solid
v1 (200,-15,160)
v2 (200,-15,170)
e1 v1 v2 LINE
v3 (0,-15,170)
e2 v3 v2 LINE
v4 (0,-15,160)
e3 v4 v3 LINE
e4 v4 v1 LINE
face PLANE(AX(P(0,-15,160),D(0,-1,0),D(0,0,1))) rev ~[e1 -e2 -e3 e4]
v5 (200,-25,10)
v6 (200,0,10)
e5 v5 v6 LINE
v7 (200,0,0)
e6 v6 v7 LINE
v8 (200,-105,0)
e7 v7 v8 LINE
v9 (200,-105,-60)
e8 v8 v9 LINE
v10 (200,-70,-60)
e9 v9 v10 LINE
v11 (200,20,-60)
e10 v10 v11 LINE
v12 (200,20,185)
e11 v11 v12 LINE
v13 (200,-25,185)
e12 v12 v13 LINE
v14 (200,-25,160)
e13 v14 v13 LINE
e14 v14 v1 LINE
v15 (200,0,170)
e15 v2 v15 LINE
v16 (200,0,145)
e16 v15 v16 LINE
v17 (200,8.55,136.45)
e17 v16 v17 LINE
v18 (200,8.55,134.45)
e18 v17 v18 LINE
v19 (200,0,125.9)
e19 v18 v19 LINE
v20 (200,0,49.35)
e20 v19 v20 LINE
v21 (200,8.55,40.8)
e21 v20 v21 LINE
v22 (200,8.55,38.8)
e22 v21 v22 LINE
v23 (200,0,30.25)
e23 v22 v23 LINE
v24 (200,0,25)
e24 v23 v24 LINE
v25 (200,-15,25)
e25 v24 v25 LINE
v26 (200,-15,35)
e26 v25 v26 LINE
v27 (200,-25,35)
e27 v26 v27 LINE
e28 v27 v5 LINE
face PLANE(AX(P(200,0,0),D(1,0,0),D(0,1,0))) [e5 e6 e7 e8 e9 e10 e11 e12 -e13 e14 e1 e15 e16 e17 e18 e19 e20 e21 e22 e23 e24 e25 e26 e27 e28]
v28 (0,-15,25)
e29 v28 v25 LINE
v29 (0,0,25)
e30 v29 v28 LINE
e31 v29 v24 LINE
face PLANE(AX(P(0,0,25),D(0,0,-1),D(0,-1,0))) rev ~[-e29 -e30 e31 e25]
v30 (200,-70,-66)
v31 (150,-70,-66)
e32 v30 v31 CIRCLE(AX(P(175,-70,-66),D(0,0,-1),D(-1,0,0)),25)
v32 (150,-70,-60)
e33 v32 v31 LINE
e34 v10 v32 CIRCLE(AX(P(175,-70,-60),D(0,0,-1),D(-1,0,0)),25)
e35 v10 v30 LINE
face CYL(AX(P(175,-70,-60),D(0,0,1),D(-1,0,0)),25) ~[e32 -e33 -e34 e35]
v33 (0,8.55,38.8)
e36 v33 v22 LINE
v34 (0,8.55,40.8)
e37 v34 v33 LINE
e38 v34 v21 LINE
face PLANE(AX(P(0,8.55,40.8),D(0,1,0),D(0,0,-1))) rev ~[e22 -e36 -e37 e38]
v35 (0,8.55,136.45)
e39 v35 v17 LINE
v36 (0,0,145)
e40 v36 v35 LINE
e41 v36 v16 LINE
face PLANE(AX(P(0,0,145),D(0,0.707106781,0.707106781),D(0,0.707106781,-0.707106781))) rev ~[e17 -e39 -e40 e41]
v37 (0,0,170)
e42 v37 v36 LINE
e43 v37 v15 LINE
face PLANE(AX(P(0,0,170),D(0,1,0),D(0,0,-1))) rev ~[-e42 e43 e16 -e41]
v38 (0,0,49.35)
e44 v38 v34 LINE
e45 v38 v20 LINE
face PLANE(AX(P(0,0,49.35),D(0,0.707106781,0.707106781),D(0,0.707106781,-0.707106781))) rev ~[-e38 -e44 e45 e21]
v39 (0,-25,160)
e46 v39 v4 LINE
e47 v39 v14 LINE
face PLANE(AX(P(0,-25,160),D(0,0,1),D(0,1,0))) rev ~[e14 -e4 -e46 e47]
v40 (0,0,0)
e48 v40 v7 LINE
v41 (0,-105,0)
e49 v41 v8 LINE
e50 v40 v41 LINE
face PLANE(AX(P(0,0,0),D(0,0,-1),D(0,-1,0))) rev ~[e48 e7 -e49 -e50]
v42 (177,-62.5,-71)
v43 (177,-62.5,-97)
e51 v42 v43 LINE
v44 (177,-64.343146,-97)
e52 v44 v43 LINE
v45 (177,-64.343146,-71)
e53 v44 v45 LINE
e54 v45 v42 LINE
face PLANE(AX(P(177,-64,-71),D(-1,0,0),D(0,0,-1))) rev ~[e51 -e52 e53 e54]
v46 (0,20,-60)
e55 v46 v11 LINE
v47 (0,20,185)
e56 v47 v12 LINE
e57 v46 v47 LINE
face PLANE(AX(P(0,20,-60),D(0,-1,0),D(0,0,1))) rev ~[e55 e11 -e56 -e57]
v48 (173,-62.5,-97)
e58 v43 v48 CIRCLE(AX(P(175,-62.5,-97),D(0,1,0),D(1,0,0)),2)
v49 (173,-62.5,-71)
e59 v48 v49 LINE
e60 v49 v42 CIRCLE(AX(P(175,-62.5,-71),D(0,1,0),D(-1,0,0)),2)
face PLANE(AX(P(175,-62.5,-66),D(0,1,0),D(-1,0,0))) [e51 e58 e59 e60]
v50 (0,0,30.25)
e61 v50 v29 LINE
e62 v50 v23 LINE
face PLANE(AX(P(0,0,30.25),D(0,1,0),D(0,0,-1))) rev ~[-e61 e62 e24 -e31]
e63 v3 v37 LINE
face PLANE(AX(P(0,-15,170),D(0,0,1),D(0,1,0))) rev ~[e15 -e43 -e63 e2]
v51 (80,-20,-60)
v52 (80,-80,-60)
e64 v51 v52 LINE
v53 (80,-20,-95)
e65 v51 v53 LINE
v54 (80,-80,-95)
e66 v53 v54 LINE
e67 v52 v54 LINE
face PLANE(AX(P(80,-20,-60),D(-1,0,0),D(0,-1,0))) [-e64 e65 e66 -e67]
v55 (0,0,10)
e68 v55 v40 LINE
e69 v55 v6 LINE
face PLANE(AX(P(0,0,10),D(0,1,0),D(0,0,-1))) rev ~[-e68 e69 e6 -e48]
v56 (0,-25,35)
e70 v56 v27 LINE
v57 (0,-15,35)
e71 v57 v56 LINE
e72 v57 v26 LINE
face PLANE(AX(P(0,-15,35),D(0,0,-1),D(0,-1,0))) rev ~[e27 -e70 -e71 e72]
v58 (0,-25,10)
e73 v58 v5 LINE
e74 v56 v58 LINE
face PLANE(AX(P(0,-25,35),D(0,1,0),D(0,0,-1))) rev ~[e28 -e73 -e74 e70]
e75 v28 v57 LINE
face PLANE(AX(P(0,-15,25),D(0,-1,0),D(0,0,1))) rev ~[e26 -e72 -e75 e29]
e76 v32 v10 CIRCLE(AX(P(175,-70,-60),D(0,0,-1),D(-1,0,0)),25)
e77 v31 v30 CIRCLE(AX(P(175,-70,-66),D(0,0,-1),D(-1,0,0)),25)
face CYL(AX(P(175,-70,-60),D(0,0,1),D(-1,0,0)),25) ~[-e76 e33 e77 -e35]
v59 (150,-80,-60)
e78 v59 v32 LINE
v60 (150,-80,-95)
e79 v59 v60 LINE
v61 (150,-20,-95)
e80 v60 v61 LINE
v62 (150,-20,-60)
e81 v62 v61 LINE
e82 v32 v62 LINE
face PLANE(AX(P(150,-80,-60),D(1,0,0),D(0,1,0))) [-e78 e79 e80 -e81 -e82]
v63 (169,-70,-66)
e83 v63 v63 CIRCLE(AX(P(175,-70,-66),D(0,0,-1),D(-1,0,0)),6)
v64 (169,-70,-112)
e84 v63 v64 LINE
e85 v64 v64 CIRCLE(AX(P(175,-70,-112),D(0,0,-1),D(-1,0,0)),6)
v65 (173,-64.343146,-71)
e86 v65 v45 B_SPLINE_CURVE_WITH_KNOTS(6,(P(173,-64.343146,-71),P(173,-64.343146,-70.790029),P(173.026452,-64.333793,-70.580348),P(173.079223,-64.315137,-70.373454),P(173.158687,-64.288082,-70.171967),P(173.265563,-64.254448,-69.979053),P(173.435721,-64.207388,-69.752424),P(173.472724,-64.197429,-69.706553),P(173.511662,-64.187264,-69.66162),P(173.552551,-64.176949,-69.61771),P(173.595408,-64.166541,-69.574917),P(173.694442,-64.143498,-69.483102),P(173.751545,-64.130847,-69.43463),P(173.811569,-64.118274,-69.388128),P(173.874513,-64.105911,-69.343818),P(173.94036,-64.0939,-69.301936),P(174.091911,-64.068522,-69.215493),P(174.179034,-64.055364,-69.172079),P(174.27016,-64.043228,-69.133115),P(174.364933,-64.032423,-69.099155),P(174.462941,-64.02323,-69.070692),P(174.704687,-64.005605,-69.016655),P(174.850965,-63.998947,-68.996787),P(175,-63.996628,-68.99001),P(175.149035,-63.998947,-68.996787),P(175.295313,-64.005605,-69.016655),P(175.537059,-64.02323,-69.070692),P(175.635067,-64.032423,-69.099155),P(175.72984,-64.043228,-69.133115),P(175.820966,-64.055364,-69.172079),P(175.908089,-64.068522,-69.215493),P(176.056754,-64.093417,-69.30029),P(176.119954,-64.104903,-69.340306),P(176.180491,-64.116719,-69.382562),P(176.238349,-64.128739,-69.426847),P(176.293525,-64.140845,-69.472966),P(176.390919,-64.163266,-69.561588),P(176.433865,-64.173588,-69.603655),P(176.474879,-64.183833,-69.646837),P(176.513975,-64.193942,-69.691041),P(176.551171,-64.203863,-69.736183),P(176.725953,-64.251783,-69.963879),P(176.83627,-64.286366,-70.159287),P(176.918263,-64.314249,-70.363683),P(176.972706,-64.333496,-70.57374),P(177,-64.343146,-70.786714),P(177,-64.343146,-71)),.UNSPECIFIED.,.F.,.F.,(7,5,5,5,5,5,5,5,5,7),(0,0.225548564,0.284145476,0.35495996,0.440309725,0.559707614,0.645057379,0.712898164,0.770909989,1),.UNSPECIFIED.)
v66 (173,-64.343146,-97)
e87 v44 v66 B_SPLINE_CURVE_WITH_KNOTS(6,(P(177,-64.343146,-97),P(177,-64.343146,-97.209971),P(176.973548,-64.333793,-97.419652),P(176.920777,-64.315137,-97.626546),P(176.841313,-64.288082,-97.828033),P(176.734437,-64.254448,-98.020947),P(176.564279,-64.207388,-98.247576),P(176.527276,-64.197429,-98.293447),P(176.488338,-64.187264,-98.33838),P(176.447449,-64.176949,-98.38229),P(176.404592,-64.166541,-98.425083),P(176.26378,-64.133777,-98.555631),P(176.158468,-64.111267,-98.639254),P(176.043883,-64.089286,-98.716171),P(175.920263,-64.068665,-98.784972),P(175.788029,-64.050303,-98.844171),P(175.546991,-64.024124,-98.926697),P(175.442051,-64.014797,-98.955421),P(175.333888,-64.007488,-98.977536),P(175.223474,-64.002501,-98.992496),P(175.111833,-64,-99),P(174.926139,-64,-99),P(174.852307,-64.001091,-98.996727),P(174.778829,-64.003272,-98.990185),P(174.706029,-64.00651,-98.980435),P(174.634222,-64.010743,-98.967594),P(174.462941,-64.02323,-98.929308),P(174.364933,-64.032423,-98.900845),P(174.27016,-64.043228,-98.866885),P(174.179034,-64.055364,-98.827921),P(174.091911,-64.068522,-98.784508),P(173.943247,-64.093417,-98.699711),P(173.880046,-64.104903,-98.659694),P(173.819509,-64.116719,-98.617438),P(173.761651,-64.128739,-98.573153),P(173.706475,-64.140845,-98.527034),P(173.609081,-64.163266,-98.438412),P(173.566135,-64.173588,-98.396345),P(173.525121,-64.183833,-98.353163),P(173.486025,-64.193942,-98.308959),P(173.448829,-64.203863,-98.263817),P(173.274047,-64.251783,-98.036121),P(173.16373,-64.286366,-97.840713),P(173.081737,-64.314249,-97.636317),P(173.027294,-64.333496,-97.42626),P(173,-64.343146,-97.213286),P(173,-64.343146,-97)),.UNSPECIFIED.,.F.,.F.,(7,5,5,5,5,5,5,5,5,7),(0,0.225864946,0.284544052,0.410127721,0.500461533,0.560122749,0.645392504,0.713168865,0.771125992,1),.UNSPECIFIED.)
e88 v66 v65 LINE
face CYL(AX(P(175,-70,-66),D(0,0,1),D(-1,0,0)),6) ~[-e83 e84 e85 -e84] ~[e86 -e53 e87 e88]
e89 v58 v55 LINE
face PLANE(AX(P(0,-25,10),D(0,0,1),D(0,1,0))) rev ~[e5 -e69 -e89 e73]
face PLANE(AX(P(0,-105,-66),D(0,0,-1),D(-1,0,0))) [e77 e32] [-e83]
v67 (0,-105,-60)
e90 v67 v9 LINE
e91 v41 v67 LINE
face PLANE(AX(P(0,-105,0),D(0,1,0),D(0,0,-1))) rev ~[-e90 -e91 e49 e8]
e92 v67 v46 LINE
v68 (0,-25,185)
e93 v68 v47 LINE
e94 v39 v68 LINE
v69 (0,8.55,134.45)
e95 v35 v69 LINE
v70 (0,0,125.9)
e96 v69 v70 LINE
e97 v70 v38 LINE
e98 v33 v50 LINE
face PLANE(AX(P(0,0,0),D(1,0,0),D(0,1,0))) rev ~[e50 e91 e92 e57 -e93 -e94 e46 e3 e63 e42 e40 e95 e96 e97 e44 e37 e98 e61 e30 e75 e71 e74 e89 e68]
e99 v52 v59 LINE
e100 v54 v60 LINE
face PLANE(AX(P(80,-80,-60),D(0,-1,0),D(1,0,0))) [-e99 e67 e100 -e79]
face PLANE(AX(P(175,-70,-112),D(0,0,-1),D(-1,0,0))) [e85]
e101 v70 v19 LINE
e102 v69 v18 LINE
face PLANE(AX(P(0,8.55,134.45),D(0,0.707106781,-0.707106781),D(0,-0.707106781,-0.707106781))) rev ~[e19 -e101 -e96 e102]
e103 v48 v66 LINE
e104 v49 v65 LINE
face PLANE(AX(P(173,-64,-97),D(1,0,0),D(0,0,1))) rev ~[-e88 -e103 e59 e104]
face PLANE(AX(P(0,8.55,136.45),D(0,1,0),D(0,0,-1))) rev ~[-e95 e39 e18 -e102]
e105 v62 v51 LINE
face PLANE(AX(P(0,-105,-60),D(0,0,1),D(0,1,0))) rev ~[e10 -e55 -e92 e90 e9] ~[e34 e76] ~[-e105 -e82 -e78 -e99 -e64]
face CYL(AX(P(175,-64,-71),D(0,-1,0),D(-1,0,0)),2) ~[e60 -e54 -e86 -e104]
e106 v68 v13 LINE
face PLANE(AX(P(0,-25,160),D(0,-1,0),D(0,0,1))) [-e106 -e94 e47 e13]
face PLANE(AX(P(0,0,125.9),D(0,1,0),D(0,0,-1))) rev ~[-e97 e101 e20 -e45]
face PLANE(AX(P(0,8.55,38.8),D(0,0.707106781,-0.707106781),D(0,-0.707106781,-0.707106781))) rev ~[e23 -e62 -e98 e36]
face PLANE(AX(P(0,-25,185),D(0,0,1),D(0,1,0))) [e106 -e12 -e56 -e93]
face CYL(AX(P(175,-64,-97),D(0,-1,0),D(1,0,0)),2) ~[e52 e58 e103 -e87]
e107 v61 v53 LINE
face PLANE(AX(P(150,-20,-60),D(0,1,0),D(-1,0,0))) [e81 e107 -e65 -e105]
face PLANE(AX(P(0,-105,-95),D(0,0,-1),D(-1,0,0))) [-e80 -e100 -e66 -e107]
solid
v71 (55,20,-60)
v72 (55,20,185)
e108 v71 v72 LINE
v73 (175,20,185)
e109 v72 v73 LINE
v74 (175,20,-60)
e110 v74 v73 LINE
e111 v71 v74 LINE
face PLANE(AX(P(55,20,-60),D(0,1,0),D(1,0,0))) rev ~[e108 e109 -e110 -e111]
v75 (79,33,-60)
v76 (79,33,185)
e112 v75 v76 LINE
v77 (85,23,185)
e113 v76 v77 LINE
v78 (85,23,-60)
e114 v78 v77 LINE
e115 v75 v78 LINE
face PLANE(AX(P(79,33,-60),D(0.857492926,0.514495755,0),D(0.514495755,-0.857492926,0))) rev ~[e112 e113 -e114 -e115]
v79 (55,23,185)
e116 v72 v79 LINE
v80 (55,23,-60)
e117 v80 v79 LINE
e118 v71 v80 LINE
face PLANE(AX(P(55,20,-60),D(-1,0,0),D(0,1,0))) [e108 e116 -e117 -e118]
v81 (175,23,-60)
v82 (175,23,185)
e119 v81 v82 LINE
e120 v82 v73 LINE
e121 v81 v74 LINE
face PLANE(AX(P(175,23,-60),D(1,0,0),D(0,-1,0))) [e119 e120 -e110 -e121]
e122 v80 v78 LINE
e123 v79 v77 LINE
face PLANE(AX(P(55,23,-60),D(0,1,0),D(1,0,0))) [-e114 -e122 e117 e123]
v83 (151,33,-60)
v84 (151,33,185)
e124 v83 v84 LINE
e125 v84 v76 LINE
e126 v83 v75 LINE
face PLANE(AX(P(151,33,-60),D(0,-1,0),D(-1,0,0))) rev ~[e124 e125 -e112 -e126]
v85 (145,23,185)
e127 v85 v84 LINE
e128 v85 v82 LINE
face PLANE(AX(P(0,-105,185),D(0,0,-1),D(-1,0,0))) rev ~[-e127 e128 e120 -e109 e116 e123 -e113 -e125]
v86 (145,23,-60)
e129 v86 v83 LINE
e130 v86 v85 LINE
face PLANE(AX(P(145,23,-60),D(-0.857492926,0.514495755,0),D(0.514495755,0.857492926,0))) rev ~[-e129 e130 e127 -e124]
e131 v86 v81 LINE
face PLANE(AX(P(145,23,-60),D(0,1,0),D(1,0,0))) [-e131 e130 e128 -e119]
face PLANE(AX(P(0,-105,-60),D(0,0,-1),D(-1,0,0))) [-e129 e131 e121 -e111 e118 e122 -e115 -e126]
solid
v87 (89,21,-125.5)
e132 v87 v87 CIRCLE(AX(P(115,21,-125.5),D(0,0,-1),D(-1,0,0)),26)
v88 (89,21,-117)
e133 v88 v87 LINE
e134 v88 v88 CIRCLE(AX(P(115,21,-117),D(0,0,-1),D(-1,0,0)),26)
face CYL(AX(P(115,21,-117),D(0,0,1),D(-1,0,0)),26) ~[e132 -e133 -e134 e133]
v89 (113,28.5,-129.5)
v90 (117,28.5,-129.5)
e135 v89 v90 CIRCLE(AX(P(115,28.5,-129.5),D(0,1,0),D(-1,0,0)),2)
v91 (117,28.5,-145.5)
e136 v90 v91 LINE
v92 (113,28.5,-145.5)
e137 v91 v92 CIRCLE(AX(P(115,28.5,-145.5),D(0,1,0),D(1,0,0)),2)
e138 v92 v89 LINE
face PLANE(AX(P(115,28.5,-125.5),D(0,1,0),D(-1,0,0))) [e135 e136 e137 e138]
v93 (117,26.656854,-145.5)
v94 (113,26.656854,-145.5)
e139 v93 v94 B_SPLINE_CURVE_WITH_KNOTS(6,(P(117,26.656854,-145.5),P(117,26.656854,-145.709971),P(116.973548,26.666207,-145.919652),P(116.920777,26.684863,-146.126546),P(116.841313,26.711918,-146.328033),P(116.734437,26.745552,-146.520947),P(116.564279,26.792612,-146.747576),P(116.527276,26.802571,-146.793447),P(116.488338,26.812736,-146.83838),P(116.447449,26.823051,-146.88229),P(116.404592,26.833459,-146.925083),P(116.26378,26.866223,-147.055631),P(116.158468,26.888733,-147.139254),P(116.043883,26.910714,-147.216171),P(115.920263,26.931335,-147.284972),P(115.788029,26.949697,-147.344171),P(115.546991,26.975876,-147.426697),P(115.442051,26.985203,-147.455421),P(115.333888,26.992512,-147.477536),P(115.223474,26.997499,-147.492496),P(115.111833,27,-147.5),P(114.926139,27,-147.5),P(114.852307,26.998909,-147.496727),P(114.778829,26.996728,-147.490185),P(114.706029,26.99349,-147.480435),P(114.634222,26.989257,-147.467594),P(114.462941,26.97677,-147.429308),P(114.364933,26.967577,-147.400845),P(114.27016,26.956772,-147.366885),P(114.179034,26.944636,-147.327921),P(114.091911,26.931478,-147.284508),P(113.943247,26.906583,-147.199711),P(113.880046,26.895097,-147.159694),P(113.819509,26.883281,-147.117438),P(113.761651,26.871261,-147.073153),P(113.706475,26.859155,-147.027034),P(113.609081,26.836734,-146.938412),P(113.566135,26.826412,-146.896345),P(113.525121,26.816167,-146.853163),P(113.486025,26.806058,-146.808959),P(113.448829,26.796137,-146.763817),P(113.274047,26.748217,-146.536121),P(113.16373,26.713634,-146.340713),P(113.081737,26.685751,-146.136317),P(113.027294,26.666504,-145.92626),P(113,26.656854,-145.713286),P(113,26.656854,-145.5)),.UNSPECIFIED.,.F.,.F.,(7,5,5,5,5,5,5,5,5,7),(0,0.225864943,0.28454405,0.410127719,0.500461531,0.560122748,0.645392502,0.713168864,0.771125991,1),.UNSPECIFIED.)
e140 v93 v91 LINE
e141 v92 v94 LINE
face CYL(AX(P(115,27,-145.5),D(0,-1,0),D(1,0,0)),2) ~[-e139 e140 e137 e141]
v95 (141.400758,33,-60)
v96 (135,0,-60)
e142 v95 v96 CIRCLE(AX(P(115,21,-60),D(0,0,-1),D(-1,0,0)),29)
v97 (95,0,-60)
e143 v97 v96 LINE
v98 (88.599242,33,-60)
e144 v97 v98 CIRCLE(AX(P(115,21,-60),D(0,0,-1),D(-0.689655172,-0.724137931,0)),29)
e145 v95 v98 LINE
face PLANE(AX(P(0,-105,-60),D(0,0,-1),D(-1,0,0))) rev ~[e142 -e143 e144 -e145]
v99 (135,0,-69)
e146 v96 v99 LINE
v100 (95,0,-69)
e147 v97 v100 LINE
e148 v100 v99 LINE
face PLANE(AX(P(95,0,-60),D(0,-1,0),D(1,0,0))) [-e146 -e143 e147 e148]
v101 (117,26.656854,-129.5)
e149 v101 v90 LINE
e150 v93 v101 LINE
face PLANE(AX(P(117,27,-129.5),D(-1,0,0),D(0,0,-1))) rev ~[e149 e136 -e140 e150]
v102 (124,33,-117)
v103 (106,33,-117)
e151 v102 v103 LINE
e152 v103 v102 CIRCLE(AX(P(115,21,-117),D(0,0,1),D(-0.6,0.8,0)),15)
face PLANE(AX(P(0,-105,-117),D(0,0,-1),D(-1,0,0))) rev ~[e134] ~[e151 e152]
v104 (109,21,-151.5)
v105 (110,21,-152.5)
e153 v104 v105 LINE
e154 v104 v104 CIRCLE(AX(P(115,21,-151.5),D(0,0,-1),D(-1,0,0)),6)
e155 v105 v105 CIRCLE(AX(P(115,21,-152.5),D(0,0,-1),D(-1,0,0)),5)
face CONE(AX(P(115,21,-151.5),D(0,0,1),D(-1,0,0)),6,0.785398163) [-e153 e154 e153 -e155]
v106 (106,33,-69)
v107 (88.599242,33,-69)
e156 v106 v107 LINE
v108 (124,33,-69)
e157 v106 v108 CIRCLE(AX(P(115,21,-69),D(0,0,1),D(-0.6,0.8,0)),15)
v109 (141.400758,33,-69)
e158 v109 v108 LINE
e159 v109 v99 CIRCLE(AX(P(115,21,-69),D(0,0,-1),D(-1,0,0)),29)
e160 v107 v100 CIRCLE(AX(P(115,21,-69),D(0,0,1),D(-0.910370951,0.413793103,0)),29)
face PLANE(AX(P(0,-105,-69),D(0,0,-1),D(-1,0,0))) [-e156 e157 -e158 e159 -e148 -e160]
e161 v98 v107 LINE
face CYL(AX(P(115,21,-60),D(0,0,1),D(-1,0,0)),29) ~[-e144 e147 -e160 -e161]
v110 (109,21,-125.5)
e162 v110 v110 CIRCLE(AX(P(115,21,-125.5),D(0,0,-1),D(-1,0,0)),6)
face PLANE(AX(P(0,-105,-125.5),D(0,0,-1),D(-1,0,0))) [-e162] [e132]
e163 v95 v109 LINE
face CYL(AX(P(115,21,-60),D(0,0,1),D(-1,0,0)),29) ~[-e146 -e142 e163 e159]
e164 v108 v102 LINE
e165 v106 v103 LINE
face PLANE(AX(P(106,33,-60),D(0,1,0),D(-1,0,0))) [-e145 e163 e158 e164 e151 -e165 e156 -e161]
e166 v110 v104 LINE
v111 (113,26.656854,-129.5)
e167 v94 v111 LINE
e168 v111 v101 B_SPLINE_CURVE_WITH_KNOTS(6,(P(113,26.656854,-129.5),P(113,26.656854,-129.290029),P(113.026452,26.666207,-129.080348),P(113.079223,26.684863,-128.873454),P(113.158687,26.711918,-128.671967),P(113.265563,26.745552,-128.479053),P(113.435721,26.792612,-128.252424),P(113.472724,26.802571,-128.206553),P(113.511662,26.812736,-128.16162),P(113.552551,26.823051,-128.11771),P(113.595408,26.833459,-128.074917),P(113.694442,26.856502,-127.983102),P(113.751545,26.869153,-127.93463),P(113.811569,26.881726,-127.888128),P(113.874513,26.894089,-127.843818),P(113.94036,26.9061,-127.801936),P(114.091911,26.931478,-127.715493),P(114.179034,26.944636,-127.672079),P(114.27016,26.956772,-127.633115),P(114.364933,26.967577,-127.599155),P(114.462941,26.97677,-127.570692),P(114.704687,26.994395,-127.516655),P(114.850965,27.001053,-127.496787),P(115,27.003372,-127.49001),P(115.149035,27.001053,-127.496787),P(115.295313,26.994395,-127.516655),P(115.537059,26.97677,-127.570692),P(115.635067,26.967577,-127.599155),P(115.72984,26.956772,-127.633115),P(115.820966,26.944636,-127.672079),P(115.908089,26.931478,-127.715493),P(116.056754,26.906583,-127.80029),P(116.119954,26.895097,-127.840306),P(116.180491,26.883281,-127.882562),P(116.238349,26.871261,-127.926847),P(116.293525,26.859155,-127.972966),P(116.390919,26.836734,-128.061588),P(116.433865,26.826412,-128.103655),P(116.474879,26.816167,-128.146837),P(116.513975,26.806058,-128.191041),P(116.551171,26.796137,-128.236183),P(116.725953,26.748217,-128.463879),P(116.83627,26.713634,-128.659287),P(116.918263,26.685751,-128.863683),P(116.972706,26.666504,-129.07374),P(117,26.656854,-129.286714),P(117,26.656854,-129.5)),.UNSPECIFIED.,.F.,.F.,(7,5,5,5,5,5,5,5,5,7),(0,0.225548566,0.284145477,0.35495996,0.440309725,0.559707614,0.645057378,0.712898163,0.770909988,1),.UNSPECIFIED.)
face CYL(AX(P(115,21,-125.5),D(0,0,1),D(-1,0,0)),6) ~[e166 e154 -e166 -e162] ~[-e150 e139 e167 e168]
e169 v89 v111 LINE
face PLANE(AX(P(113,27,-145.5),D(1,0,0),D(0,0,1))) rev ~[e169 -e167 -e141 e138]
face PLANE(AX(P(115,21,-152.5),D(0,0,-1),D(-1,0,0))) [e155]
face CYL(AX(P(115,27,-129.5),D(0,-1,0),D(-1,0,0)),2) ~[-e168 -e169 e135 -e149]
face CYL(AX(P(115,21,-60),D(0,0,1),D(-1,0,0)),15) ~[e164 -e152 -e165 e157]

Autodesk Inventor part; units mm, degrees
ref_plane "YZ Plane" through (0, 0, 0) normal (1, 0, 0) x (0, 1, 0)
sketch "Sketch1" plane through (0, 0, 0) normal (1, 0, 0) x (0, 1, 0)
  line L0 (0, 0) -> (-105, 0)
  line L1 (-105, 0) -> (-105, -60)
  line L2 (-105, -60) -> (20, -60)
  line L3 (20, -60) -> (20, 185)
  line L4 (20, 185) -> (-15.7857, 185)
  line L5 (0, 145) -> (8.55, 136.45)
  line L6 (8.55, 136.45) -> (8.55, 134.45)
  line L7 (8.55, 134.45) -> (0, 125.9)
  line L8 (0, 125.9) -> (0, 49.35)
  line L9 (0, 49.35) -> (8.55, 40.8)
  line L10 (8.55, 40.8) -> (8.55, 38.8)
  line L11 (8.55, 38.8) -> (0, 30.25)
  line L12 (0, 30.25) -> (0, 25)
  line L13 (0, 25) -> (-15, 25)
  line L14 (-15, 25) -> (-15, 35)
  line L15 (-15, 35) -> (-25, 35)
  line L16 (-25, 35) -> (-25, 10)
  line L17 (-25, 10) -> (0, 10)
  line L18 (0, 10) -> (0, 0)
  line L19 (-25, 160) -> (-25, 185)
  line L20 (-25, 185) -> (-15.7857, 185)
  line L21 (-25, 160) -> (-15, 160)
  line L22 (-15, 160) -> (-15, 170)
  line L23 (-15, 170) -> (0, 170)
  line L24 (0, 170) -> (0, 145)
  line L25 (0, 145) -> (0, 136.45) construction
  line L26 (0, 136.45) -> (8.55, 136.45) construction
  line L27 (0, 125.9) -> (0, 134.45) construction
  line L28 (0, 134.45) -> (8.55, 134.45) construction
  line L29 (0, 49.35) -> (0, 40.8) construction
  line L30 (0, 40.8) -> (8.55, 40.8) construction
  line L31 (0, 30.25) -> (0, 38.8) construction
  line L32 (0, 38.8) -> (8.55, 38.8) construction
  dimension "d0" = 245
  dimension "d1" = 125
  dimension "d2" = 60
  dimension "d3" = 45
  dimension "d4" = 20
  dimension "d5" = 10
  dimension "d6" = 15
  dimension "d7" = 15
  dimension "d8" = 25
  dimension "d9" = 25
  dimension "d10" = 10
  dimension "d11" = 40
  dimension "d14" = 114.75
  dimension "d15" = 2
  dimension "d16" = 8.55
extrude "Extrusion1" add sketch "Sketch1" along normal blind 200
sketch "Sketch2" plane through (0, -105, -60) normal (0, 0, -1) x (-1, 0, 0)
  line L0 (0, 125) -> (-200, 125) projected
  line L1 (-175, 125) -> (-55, 125)
  line L2 (-55, 125) -> (-55, 128)
  line L3 (-55, 128) -> (-175, 128)
  line L4 (-175, 128) -> (-175, 125)
  line L5 (-145, 128) -> (-151, 138)
  line L6 (-151, 138) -> (-79, 138)
  line L7 (-79, 138) -> (-85, 128)
  line L8 (-200, 0) -> (-200, 125) projected
  line L9 (-115, 138) -> (-115, 128) construction
  point P0 (0, 105)
  dimension "d17" = 25
  dimension "d18" = 120
  dimension "d19" = 3
  dimension "d20" = 10
  dimension "d21" = 72
  dimension "d22" = 6
  dimension "d23" = 6
extrude "Extrusion2" add sketch "Sketch2" against normal up to surface (245 mm away) separate body
sketch "Sketch3" plane through (0, -105, -60) normal (0, 0, -1) x (-1, 0, 0)
  line L0 (-150, 85) -> (-80, 85)
  line L1 (-80, 85) -> (-80, 25)
  line L2 (-80, 25) -> (-150, 25)
  line L3 (-150, 25) -> (-150, 85)
  line L4 (-200, 0) -> (-200, 125) projected
  line L5 (0, 0) -> (-200, 0) projected
  point P0 (0, 105)
  dimension "d26" = 70
  dimension "d27" = 60
  dimension "d28" = 50
  dimension "d29" = 25
extrude "Extrusion3" add sketch "Sketch3" along normal blind 35 bodies 1
sketch "Sketch5" plane through (0, -105, -60) normal (0, 0, -1) x (-1, 0, 0)
  circle A0 centre (-115, 126) radius 29
  circle A1 centre (-115, 126) radius 15
  line L0 (-56.8289, 105) -> (-173.1711, 105)
  line L1 (-173.1711, 105) -> (-173.1711, 138)
  line L2 (-173.1711, 138) -> (-56.8289, 138)
  line L3 (-56.8289, 138) -> (-56.8289, 105)
  line L4 (-56.8289, 105) -> (-173.1711, 138) construction
  line L5 (-173.1711, 105) -> (-56.8289, 138) construction
  line L6 (-144.4606, 111) -> (-81.6028, 111) construction
  line L7 (-79, 138) -> (-151, 138) construction
  line L8 (-115, 138) -> (-115, 126) construction
  point P0 (0, 105)
  point P1 (-115, 121.5)
  point P2 (-88.5992, 138)
  point P3 (-106, 138)
  point P4 (-124, 138)
  point P5 (-141.4008, 138)
  point P6 (-135, 105)
  point P7 (-95, 105)
  dimension "d32" = 58
  dimension "d33" = 30
  dimension "d34" = 33
  dimension "d35" = 27
extrude "Extrusion4" add sketch "Sketch5" along normal blind 9 separate body contours A0 L0 L2 A1
extrude "Extrusion5" add sketch "Sketch5" along normal blind 57 contours A1 L2 picked at (-114.6834, 128.2311) bodies 3
sketch "Sketch6" plane through (0, -105, -117) normal (0, 0, -1) x (-1, 0, 0)
  arc A0 (-124, 138) -> (-106, 138) centre (-115, 126) ccw projected
  circle A1 centre (-115, 126) radius 26
  point P0 (0, 105)
  dimension "d40" = 52
extrude "Extrusion6" add sketch "Sketch6" along normal blind 8.5 bodies 3
sketch "Sketch7" plane through (115, 21, -125.5) normal (0, 0, -1) x (-1, 0, 0)
  circle A0 centre (0, 0) radius 26 projected
  circle A1 centre (0, 0) radius 6
  point P0 (115, -21)
  dimension "d43" = 12
extrude "Extrusion7" add sketch "Sketch7" along normal blind 27 contours A1 bodies 3
sketch "Sketch8" plane through (0, 0, 0) normal (0, 1, 0) x (-1, 0, 0)
  point P0 (0, 0)
ref_plane "Work Plane1" through (115, 27, -125.5) normal (0, 1, 0) x (-1, 0, 0)
sketch "Sketch9" plane through (115, 27, -125.5) normal (0, 1, 0) x (-1, 0, 0)
  line L0 (0, -2) -> (0, -22) construction
  line L1 (-2, -4) -> (-2, -20)
  line L2 (2, -20) -> (2, -4)
  arc A0 (2, -4) -> (-2, -4) centre (0, -4) ccw
  arc A1 (-2, -20) -> (2, -20) centre (0, -20) ccw
  line L3 (-6, -27) -> (6, -27) construction
  line L4 (0, -27) -> (0, -22) construction
  point P0 (115, 125.5)
  point P1 (0, -12)
  point P2 (0, -2)
  dimension "d46" = 4
  dimension "d47" = 20
  dimension "d48" = 5
extrude "Extrusion8" add sketch "Sketch9" along normal blind 1.5 and the other way blind 1.25 bodies 3
chamfer "Chamfer1" distance 1 angle 45 1 edges at (121, 21, -152.5)
sketch "Sketch10" plane through (0, -105, -60) normal (0, 0, -1) x (-1, 0, 0)
  circle A0 centre (-175, 35) radius 25
  line L0 (-200, 0) -> (-200, 125) projected
  line L1 (-205.8854, 10) -> (-128.3564, 10) construction
  line L2 (0, 0) -> (-200, 0) construction
  point P0 (0, 105)
  dimension "d56" = 50
  dimension "d57" = 10
extrude "Extrusion9" add sketch "Sketch10" along normal blind 6 bodies 1
sketch "Sketch11" plane through (175, -70, -66) normal (0, 0, -1) x (-1, 0, 0)
  arc A0 (25, 0) -> (-25, 0) centre (0, 0) ccw projected
  circle A1 centre (0, 0) radius 6
  point P0 (175, 70)
  dimension "d60" = 12
extrude "Extrusion10" add sketch "Sketch11" along normal blind 46 bodies 1
ref_plane "Work Plane2" through (175, -64, -66) normal (0, 1, 0) x (-1, 0, 0)
sketch "Sketch12" plane through (175, -64, -66) normal (0, 1, 0) x (-1, 0, 0)
  line L0 (0, -3) -> (0, -33) construction
  line L1 (-2, -5) -> (-2, -31)
  line L2 (2, -31) -> (2, -5)
  arc A0 (2, -5) -> (-2, -5) centre (0, -5) ccw
  arc A1 (-2, -31) -> (2, -31) centre (0, -31) ccw
  line L3 (0, -33) -> (0, -46) construction
  line L4 (-6, -46) -> (6, -46) construction
  point P0 (175, 66)
  point P1 (0, -18)
  point P2 (0, -33)
  point P3 (0, -3)
  dimension "d63" = 4
  dimension "d68" = 30
  dimension "d69" = 13
extrude "Extrusion11" add sketch "Sketch12" along normal blind 1.5 and the other way blind 1.5 bodies 1
properties part number "Apron"
